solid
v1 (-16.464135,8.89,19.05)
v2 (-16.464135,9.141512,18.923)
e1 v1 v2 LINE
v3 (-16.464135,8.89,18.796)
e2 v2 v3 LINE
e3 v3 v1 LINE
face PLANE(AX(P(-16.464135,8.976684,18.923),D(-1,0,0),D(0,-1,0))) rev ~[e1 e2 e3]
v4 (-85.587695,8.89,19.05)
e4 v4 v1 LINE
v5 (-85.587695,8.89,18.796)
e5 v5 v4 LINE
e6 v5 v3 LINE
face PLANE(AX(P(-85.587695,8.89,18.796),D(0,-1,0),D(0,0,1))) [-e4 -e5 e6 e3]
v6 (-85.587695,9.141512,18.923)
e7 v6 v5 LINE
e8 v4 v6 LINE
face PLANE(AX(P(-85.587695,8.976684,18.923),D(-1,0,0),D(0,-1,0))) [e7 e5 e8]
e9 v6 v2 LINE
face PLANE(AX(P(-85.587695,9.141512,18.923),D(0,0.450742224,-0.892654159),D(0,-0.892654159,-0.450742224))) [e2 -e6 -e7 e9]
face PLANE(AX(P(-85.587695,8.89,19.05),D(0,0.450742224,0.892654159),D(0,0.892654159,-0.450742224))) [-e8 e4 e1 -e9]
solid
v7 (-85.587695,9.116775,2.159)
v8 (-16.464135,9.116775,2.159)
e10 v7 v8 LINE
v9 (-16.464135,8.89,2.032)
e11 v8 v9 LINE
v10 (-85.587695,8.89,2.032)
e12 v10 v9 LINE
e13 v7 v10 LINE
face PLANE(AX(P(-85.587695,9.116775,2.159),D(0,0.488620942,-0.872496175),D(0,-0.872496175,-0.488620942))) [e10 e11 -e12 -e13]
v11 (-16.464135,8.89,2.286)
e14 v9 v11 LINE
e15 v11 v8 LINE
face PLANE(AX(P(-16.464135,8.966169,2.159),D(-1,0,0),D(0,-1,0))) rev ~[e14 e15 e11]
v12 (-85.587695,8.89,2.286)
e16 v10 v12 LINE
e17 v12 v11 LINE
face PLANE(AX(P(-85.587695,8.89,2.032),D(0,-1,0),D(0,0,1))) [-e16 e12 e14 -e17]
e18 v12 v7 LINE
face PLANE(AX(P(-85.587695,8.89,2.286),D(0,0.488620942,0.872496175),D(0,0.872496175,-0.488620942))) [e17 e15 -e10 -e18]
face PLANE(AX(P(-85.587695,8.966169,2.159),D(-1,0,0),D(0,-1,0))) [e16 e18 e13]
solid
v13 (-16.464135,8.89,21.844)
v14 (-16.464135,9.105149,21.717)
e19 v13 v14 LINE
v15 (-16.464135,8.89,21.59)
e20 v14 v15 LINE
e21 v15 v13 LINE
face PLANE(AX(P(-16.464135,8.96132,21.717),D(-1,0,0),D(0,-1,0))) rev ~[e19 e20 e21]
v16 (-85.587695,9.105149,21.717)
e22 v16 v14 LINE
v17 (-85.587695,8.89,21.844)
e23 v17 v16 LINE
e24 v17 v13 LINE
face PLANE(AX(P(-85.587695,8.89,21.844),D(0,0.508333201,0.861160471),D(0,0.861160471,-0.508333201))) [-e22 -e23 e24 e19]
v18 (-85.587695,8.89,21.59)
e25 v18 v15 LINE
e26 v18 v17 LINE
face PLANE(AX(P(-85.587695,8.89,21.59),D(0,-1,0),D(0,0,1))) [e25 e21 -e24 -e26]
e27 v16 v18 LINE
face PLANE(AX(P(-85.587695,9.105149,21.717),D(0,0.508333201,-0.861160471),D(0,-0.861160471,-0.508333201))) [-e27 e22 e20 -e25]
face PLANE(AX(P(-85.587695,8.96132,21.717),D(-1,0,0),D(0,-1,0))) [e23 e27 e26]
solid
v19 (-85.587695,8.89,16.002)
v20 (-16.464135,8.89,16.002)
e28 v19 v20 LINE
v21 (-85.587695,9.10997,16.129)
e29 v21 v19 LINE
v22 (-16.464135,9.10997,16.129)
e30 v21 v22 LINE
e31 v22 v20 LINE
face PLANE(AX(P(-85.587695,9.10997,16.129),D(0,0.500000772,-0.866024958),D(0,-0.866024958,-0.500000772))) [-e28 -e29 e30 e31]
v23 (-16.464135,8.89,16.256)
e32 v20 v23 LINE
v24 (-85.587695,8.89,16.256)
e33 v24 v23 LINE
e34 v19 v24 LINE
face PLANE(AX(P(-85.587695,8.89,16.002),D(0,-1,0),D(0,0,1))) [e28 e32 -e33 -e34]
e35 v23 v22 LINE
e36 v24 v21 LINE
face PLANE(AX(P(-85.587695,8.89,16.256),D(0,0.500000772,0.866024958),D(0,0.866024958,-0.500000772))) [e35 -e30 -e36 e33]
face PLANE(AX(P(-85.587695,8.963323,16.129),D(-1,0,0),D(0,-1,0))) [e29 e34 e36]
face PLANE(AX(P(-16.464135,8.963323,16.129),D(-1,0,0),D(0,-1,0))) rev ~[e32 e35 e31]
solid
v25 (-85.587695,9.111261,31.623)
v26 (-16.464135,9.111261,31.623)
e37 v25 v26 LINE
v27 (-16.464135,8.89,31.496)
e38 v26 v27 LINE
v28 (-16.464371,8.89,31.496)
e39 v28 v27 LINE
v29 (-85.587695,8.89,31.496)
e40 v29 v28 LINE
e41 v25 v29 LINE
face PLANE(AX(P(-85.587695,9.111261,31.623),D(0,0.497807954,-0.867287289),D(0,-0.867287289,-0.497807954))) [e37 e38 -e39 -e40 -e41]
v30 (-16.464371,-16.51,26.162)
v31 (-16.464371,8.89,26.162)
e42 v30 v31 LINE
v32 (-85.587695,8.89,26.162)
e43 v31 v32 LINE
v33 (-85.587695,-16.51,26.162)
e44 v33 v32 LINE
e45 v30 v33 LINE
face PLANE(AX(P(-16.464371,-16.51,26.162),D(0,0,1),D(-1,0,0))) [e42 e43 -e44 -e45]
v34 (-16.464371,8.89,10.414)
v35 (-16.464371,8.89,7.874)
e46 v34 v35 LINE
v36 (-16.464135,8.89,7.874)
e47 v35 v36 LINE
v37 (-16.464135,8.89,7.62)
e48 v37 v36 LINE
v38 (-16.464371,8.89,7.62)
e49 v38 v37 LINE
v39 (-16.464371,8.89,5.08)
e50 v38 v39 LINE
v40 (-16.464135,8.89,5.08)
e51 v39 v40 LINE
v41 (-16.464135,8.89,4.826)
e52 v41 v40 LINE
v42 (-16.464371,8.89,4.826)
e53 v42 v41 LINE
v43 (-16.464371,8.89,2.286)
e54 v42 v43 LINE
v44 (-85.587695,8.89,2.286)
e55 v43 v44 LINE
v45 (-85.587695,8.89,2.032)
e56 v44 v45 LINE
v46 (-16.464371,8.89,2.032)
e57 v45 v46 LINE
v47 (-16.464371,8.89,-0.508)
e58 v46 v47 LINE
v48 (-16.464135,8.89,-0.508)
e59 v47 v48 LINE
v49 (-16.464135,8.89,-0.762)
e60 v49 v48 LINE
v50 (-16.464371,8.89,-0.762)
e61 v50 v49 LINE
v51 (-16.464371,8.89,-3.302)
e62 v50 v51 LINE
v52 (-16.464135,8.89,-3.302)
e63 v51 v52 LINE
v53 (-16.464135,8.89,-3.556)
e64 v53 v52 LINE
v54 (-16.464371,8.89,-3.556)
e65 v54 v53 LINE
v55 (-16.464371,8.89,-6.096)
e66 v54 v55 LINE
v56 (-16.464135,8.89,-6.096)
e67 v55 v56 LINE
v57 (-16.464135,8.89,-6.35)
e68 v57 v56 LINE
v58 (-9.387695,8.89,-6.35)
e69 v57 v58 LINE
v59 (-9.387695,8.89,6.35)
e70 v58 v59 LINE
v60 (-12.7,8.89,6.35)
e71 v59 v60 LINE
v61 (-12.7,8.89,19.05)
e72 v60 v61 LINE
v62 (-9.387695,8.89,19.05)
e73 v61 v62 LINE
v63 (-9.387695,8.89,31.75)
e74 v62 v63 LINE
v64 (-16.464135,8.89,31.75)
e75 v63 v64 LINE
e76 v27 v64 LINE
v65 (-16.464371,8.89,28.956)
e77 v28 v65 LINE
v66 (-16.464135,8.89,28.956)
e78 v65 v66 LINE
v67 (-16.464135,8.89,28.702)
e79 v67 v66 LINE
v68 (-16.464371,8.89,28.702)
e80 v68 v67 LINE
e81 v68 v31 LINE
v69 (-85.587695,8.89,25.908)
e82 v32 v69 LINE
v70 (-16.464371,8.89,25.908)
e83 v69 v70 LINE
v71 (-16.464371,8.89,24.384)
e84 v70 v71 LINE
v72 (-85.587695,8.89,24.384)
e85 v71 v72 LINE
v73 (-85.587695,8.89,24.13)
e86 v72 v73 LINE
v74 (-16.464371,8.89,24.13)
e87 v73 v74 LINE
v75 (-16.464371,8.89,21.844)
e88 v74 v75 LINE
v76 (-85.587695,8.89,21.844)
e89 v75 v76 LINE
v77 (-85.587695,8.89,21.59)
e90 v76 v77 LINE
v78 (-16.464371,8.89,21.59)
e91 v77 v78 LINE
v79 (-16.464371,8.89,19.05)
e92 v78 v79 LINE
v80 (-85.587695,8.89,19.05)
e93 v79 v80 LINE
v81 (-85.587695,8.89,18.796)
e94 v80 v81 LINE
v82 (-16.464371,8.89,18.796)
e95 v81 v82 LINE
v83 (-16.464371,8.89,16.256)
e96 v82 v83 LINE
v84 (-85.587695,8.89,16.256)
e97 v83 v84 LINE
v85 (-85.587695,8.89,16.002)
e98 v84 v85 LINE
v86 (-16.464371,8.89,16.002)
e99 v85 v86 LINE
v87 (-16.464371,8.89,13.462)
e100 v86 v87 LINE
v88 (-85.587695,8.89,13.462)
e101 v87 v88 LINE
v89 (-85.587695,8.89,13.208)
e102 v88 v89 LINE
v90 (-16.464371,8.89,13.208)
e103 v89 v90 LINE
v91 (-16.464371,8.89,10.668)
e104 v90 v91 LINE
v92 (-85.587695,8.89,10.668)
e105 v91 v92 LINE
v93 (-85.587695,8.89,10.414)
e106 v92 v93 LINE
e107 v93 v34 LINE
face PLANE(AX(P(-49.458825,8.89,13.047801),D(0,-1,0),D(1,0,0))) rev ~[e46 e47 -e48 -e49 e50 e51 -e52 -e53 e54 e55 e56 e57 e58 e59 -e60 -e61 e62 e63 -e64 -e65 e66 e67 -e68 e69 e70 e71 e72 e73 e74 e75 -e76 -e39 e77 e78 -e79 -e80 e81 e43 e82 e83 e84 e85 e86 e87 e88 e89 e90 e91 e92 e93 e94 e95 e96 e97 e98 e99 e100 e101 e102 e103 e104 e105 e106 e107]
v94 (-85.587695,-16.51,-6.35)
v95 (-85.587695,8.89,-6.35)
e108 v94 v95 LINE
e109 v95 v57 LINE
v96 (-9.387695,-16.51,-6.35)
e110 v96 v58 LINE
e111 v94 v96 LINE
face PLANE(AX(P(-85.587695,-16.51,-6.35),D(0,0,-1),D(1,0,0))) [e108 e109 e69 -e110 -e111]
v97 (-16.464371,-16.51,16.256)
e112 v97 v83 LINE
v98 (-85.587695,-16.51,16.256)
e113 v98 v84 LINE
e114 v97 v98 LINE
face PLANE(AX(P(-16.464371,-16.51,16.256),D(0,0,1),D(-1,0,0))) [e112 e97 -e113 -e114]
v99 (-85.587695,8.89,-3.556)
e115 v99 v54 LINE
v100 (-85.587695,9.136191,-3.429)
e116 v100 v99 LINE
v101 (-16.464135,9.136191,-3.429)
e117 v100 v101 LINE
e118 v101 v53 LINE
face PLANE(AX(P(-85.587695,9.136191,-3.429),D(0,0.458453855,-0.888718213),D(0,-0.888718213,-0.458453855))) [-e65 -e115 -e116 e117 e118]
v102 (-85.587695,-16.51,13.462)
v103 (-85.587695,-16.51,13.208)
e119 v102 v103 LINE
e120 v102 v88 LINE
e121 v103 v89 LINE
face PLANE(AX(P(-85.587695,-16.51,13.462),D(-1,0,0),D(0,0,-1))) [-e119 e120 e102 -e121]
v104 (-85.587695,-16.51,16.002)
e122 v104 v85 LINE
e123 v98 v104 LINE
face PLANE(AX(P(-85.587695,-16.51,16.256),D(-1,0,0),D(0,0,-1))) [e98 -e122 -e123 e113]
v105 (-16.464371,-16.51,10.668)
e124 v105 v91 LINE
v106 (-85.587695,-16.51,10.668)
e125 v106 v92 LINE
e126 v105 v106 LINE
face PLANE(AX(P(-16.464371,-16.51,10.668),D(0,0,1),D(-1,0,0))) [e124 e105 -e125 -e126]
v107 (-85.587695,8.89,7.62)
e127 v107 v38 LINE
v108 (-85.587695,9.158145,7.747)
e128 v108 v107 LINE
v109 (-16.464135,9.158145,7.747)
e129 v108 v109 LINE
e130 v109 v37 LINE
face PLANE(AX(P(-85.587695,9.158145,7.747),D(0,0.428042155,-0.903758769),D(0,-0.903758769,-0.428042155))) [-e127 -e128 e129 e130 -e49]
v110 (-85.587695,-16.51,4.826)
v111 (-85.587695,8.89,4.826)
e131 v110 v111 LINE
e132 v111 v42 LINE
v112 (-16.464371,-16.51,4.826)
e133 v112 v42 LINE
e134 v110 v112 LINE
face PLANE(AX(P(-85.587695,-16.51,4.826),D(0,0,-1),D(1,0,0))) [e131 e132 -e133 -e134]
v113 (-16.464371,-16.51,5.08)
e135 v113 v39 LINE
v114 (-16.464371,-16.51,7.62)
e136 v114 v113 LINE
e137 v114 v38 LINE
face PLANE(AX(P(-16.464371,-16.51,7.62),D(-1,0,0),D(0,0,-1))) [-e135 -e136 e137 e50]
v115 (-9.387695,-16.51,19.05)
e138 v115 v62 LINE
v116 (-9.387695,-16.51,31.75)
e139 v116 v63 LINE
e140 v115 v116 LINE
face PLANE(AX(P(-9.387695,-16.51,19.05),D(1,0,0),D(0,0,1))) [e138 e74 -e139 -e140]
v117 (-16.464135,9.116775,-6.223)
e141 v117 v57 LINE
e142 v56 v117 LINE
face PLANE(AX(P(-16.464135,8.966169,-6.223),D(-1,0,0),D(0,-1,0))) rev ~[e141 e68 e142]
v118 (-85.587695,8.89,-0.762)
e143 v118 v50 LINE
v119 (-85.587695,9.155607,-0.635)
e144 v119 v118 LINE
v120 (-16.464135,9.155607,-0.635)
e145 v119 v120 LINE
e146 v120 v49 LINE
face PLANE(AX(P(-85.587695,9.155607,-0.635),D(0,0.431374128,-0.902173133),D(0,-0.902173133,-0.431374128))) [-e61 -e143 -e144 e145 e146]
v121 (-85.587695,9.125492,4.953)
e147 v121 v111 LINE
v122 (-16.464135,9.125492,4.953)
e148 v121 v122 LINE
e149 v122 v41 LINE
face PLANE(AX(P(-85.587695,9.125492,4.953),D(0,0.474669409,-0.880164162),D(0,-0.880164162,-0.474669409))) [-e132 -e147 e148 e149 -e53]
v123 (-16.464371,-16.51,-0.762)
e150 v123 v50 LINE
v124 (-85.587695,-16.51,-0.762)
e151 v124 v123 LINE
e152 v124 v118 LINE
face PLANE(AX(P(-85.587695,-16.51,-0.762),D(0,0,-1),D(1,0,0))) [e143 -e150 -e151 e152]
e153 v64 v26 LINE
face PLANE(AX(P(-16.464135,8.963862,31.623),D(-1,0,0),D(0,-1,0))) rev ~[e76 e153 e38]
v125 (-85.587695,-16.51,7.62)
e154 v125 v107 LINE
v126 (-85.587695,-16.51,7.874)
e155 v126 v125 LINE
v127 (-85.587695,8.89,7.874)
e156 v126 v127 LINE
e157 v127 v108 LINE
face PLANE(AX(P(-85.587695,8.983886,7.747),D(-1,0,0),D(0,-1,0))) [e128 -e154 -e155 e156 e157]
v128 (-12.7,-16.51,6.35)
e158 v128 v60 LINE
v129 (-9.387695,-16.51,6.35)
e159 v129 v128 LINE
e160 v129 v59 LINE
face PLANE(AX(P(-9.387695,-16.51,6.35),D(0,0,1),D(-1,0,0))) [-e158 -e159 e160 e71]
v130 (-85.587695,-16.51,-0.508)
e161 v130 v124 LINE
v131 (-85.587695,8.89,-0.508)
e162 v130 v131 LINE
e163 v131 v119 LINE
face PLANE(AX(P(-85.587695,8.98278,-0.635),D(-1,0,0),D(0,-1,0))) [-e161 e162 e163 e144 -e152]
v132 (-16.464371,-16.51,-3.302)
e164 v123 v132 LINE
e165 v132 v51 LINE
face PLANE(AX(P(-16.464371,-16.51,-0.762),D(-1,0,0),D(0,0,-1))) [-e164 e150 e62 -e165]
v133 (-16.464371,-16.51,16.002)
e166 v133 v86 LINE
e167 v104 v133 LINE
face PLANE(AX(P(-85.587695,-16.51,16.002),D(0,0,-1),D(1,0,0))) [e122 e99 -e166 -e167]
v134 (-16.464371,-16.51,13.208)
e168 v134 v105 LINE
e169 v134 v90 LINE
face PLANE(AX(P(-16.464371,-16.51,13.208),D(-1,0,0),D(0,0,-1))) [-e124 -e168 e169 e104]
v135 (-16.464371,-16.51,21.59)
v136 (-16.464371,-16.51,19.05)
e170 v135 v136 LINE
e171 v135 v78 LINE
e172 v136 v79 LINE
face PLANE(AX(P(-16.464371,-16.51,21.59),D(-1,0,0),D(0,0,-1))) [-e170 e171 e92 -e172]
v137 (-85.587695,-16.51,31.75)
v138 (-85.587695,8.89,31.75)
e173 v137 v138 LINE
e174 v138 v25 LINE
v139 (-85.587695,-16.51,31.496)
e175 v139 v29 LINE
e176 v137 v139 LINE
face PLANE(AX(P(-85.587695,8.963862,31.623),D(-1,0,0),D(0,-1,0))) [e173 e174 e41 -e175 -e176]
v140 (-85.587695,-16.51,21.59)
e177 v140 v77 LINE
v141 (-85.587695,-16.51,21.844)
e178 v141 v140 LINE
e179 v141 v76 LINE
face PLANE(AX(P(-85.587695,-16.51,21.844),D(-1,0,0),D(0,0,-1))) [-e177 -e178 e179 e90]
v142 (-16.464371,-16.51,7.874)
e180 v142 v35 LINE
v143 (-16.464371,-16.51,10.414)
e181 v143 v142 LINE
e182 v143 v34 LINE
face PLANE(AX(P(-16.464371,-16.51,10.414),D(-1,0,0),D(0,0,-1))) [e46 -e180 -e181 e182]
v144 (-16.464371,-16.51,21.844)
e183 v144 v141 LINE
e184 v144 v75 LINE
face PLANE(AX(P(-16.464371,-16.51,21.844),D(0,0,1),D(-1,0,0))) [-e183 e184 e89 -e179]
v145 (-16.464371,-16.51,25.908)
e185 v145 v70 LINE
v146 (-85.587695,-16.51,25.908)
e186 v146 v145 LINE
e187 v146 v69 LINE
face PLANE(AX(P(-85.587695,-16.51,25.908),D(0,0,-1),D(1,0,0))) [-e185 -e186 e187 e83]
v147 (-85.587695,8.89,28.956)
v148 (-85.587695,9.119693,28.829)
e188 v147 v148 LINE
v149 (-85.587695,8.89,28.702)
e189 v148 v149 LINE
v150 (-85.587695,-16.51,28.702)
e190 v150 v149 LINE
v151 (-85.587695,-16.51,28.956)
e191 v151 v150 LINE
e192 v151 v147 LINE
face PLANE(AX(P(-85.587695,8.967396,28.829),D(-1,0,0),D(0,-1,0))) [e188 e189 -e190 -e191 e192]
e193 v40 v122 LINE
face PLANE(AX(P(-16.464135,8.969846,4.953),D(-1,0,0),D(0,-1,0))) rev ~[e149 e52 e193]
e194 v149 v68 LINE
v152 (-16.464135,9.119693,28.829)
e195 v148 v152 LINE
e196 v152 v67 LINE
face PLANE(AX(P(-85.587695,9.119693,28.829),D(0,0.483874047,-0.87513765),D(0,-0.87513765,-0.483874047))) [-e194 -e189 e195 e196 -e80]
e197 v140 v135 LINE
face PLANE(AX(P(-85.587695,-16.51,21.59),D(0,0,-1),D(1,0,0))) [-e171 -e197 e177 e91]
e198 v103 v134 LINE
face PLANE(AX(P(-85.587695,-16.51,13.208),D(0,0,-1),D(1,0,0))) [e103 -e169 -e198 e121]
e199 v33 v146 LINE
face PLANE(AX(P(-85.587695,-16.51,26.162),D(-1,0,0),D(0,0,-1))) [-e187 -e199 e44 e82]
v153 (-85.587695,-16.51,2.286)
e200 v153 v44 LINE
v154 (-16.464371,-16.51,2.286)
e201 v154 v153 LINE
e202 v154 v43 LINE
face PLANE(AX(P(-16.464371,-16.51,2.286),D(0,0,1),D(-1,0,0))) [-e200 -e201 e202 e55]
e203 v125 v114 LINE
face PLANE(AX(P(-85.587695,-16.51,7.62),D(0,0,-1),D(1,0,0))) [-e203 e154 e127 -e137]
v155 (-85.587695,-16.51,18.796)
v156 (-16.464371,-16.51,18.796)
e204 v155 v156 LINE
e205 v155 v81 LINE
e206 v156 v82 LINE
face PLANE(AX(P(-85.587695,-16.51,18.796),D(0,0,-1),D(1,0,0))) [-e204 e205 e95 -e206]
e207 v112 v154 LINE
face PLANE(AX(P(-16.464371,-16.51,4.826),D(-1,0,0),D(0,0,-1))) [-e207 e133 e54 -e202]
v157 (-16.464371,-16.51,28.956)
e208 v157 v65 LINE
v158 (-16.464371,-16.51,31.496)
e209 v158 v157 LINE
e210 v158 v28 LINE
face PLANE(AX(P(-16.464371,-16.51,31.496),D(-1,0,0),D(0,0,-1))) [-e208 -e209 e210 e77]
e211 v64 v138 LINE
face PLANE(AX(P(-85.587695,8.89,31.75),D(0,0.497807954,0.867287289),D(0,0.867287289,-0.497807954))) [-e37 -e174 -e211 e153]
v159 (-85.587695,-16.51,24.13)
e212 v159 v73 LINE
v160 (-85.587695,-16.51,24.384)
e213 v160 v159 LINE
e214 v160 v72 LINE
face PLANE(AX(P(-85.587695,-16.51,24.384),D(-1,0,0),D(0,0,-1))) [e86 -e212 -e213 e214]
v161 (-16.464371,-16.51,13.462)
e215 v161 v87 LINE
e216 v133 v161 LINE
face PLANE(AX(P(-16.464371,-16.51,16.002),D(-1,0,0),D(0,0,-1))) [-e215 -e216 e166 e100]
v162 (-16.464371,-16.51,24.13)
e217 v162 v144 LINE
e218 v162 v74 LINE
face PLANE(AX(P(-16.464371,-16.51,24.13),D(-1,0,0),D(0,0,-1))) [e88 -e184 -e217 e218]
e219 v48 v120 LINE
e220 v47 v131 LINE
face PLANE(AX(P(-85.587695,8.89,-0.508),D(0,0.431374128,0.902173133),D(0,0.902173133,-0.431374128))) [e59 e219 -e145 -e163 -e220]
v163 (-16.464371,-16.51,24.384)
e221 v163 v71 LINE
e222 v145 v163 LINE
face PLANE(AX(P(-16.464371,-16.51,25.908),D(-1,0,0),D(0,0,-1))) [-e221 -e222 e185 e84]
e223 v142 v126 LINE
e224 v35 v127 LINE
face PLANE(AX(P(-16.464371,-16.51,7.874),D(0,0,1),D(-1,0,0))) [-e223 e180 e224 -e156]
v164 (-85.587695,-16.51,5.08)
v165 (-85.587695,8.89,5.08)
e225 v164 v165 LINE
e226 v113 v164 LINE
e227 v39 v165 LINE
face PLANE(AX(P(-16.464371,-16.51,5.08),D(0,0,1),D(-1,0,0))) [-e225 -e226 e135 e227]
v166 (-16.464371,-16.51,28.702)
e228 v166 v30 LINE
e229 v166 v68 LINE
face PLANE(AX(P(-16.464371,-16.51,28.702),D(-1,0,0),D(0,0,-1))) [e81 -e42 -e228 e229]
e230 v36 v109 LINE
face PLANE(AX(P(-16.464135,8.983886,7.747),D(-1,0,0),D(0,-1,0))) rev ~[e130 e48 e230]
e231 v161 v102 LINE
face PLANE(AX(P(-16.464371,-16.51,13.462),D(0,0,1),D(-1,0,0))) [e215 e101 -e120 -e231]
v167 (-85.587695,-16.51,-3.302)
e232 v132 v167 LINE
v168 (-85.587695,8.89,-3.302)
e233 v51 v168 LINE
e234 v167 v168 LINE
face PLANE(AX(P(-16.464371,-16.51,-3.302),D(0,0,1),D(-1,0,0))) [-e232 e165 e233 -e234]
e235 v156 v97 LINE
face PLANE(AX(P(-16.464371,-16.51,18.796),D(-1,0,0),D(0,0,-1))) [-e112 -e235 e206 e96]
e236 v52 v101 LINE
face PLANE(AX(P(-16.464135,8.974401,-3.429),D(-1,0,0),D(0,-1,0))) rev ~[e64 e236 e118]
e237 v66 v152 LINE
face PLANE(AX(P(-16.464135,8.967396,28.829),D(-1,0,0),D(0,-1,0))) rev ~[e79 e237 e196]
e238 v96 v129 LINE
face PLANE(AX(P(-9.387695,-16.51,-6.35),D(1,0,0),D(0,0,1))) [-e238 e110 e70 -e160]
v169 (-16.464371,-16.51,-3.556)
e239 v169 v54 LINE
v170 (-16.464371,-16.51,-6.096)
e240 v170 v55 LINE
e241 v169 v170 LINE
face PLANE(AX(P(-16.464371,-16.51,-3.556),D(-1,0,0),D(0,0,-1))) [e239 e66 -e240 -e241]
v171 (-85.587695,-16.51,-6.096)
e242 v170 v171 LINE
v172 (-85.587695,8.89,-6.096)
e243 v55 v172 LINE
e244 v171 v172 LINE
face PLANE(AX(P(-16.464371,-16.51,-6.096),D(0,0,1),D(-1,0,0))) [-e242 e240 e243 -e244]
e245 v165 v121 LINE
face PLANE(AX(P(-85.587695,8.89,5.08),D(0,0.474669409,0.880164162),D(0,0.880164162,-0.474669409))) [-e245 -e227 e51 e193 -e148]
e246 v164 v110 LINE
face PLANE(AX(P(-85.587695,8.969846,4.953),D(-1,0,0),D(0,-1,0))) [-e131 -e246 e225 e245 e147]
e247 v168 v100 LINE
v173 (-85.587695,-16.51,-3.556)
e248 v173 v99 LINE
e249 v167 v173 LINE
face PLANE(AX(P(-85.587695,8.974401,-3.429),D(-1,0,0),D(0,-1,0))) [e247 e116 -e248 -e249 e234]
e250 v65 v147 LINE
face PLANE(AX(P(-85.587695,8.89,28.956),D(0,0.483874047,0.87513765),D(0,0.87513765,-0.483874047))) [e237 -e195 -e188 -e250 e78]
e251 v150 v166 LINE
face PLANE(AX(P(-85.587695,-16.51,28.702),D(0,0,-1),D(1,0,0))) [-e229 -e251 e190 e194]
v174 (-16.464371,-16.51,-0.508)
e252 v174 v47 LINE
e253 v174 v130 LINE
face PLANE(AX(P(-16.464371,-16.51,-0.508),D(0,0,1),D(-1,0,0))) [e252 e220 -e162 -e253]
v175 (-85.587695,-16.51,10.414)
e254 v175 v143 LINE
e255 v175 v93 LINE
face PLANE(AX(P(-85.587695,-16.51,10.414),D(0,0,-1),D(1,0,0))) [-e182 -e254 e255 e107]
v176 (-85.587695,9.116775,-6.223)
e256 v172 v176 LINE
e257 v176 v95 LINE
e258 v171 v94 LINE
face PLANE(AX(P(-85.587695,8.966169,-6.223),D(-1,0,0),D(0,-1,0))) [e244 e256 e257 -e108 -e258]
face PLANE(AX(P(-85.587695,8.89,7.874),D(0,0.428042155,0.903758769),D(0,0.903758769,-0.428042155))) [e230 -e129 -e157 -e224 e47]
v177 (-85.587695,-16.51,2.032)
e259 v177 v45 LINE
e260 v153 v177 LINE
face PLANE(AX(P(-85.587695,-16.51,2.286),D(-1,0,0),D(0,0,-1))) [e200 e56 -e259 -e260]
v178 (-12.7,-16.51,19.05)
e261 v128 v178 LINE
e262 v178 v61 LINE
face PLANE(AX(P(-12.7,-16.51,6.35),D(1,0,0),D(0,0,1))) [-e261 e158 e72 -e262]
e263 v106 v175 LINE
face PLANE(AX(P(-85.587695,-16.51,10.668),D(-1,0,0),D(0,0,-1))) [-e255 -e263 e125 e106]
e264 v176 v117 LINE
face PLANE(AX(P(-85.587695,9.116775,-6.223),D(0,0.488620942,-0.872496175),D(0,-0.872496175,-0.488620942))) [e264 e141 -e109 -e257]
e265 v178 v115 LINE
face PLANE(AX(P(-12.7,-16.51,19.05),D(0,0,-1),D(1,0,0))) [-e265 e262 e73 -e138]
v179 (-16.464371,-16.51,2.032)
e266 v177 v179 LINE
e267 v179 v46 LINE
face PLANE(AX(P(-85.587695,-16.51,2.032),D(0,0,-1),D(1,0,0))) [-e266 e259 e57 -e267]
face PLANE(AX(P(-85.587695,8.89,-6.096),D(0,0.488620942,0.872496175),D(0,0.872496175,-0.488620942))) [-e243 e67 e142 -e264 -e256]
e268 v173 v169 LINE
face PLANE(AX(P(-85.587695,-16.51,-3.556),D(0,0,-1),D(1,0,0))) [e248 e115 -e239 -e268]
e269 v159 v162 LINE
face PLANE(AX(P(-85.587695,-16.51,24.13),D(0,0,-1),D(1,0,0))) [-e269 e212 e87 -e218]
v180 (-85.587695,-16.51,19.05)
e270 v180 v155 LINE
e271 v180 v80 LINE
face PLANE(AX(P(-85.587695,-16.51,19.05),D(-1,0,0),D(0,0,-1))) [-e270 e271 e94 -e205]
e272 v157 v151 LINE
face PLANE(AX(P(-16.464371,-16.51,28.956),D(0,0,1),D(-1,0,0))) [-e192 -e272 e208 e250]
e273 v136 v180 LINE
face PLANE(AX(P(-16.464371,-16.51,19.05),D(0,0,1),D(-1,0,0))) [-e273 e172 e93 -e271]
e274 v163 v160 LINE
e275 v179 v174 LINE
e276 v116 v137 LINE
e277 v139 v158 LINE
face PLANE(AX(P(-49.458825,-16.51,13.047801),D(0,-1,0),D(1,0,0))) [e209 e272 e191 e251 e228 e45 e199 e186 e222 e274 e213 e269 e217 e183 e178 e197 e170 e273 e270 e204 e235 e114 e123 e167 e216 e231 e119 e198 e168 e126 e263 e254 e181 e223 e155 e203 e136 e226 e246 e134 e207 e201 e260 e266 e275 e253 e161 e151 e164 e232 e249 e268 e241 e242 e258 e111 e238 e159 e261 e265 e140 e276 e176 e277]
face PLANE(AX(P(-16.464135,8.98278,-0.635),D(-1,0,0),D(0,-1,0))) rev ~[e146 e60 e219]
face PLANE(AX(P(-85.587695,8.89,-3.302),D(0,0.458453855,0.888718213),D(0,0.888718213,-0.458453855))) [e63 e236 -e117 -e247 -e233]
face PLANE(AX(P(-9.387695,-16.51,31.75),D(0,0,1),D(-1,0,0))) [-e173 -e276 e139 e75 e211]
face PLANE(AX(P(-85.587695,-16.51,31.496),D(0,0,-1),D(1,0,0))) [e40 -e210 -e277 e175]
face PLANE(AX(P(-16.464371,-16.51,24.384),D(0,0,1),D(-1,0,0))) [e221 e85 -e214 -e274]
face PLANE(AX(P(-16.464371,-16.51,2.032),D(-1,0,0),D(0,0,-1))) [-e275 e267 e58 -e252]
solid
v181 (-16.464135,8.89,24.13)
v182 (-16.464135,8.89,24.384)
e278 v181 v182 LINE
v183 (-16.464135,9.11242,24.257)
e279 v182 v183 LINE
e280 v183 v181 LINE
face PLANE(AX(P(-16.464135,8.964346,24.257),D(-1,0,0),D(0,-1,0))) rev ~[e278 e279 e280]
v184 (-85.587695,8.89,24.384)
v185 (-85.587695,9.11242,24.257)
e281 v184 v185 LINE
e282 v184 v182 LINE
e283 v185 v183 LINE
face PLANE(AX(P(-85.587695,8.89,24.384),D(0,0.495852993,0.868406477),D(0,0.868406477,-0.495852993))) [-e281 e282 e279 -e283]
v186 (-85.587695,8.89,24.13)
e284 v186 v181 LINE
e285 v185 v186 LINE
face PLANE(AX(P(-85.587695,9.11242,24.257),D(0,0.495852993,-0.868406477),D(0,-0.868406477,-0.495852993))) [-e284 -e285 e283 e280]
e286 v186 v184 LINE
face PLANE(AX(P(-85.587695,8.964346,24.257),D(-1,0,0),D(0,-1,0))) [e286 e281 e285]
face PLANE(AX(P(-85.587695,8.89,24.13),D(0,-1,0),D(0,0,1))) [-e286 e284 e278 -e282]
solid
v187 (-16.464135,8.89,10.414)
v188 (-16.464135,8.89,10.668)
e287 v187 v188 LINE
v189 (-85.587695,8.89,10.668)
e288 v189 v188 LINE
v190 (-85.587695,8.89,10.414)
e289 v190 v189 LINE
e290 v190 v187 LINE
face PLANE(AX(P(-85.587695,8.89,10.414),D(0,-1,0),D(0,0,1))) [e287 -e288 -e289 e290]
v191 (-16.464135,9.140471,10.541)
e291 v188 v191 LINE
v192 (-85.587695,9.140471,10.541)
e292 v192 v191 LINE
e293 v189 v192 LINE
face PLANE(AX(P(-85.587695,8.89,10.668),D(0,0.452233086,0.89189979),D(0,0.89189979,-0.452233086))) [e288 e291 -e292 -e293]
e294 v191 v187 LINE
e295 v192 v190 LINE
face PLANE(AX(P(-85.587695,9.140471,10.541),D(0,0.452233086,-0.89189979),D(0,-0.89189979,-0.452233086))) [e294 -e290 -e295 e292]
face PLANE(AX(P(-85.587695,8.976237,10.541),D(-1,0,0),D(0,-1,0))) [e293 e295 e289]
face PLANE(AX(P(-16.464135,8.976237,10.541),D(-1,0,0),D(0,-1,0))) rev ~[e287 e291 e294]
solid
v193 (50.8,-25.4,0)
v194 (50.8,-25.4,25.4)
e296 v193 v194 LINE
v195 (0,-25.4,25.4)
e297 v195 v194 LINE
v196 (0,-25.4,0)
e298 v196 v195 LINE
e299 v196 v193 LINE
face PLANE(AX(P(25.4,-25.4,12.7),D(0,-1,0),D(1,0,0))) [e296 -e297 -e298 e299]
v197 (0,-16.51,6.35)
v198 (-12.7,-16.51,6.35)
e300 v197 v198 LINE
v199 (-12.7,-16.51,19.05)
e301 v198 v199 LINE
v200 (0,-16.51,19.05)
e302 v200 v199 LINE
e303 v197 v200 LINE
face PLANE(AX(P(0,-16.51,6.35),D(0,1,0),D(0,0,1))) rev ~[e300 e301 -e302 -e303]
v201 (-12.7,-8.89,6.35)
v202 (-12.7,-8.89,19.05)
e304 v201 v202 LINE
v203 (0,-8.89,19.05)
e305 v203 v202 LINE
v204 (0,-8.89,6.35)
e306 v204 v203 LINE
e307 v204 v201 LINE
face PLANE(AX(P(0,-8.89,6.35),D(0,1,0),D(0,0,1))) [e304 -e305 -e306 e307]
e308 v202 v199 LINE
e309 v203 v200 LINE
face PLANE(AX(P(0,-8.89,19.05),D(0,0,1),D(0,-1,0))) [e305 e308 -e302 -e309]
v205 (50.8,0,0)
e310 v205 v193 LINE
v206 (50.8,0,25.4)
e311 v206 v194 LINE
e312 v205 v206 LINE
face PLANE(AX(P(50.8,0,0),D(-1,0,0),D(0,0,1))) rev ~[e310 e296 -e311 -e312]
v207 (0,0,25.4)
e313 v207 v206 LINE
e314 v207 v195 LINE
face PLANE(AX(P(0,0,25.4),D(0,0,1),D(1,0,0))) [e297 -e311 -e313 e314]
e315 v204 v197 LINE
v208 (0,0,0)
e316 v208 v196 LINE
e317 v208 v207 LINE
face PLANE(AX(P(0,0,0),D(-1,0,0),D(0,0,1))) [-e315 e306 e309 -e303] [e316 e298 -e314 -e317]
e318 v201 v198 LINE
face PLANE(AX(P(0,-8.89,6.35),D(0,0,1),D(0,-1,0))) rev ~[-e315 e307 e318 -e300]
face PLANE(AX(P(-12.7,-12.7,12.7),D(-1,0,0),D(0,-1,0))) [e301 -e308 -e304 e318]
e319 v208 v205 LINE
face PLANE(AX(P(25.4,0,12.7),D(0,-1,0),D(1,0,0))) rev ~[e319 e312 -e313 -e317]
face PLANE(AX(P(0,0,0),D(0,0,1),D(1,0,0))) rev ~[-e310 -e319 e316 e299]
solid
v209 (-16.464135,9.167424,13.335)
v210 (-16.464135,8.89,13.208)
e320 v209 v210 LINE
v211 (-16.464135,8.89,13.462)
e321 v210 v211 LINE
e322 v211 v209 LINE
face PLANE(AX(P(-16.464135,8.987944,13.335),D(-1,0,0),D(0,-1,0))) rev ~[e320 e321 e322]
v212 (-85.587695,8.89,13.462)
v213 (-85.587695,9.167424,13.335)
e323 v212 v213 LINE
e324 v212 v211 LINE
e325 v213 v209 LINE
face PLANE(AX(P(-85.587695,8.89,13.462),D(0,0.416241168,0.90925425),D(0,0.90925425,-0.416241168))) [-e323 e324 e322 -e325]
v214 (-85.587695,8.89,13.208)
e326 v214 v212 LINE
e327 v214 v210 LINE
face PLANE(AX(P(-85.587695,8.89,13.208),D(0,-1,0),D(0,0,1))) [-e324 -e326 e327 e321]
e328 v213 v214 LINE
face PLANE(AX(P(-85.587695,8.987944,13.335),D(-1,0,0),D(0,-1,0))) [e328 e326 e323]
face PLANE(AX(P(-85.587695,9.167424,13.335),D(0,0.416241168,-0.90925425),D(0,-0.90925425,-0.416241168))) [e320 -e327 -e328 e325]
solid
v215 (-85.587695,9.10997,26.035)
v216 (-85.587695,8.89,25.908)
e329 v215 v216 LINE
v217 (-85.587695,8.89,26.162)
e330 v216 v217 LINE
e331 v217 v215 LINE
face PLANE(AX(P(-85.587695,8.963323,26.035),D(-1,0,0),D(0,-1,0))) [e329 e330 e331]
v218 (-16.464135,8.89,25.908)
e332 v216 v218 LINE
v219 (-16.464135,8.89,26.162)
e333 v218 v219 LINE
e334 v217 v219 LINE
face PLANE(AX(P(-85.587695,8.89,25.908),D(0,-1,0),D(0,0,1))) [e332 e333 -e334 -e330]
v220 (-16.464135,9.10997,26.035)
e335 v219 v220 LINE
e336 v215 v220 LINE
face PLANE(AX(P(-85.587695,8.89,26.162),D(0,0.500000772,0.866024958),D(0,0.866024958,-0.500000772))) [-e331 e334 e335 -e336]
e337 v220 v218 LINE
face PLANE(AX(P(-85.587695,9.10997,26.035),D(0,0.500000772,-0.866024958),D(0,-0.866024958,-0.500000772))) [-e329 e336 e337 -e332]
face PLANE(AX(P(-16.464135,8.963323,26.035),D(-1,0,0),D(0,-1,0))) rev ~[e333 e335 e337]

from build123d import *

# Parameters (mm, degrees)
F0_W      = 50.8
F0_H      = 25.4
F1_DEPTH  = 25.4
F2_W      = 7.62
F2_H      = 12.7
F3_DEPTH  = 12.7
F5_DEPTH  = 25.4
F7_DEPTH  = 69.12356
F22_DEPTH = 69.12356
F23_DEPTH = 69.12356
F24_DEPTH = 69.12356
F25_DEPTH = 69.12356
F26_DEPTH = 69.12356
F27_DEPTH = 69.12356
F28_DEPTH = 69.12356
F29_DEPTH = 69.12356
F30_DEPTH = 69.12356
F31_DEPTH = 69.12356
F32_DEPTH = 69.12356
F33_DEPTH = 69.12356
F34_DEPTH = 69.12356
F35_DEPTH = 69.12356


with BuildPart() as f1:
    # F0 (on Front) → F1 (new body)
    with BuildSketch(Plane.XZ):
        with Locations((25.4, 12.7)):
            Rectangle(F0_W, F0_H)
    extrude(amount=F1_DEPTH)

    # F2 (on face) → F3 (join)
    with BuildSketch(Plane(origin=(0, 0, 0), x_dir=(0, -1, 0), z_dir=(-1, 0, 0))):
        with Locations((12.7, 12.7)):
            Rectangle(F2_W, F2_H)
    extrude(amount=F3_DEPTH)


with BuildPart() as f5:
    # F4 (on face) → F5 (new body)
    with BuildSketch(Plane.XZ.offset(16.51)):
        Polygon((-85.587695, -6.35), (-9.387695, -6.35), (-9.387695, 6.35), (-12.7, 6.35), (-12.7, 19.05), (-9.387695, 19.05), (-9.387695, 31.75), (-16.464371, 31.75), (-85.587695, 31.75), (-85.587695, 31.496), (-16.464371, 31.496), (-16.464371, 28.956), (-85.587695, 28.956), (-85.587695, 28.702), (-16.464371, 28.702), (-16.464371, 26.162), (-85.587695, 26.162), (-85.587695, 25.908), (-16.464371, 25.908), (-16.464371, 24.384), (-85.587695, 24.384), (-85.587695, 24.13), (-16.464371, 24.13), (-16.464371, 21.844), (-85.587695, 21.844), (-85.587695, 21.59), (-16.464371, 21.59), (-16.464371, 19.05), (-85.587695, 19.05), (-85.587695, 18.796), (-16.464371, 18.796), (-16.464371, 16.256), (-85.587695, 16.256), (-85.587695, 16.002), (-16.464371, 16.002), (-16.464371, 13.462), (-85.587695, 13.462), (-85.587695, 13.208), (-16.464371, 13.208), (-16.464371, 10.668), (-85.587695, 10.668), (-85.587695, 10.414), (-16.464371, 10.414), (-16.464371, 7.874), (-85.587695, 7.874), (-85.587695, 7.62), (-16.464371, 7.62), (-16.464371, 5.08), (-85.587695, 5.08), (-85.587695, 4.826), (-16.464371, 4.826), (-16.464371, 2.286), (-85.587695, 2.286), (-85.587695, 2.032), (-16.464371, 2.032), (-16.464371, -0.508), (-85.587695, -0.508), (-85.587695, -0.762), (-16.464371, -0.762), (-16.464371, -3.302), (-85.587695, -3.302), (-85.587695, -3.556), (-16.464371, -3.556), (-16.464371, -6.096), (-85.587695, -6.096), align=None)
    extrude(amount=-F5_DEPTH)

    # F6 (on face) → F7 (join)
    with BuildSketch(Plane(origin=(-85.587695, 0, 0), x_dir=(0, -1, 0), z_dir=(-1, 0, 0))):
        Polygon((-8.89, 31.496), (-8.89, 31.75), (-9.111261, 31.623), align=None)
    extrude(amount=-F7_DEPTH)

    # F8 (on face) → F22 (join)
    with BuildSketch(Plane(origin=(-85.587695, 0, 0), x_dir=(0, -1, 0), z_dir=(-1, 0, 0))):
        Polygon((-8.89, 28.702), (-8.89, 28.956), (-9.119693, 28.829), align=None)
    extrude(amount=-F22_DEPTH)

    # F16 (on face) → F30 (join)
    with BuildSketch(Plane(origin=(-85.587695, 0, 0), x_dir=(0, -1, 0), z_dir=(-1, 0, 0))):
        Polygon((-8.89, 7.62), (-8.89, 7.874), (-9.158145, 7.747), align=None)
    extrude(amount=-F30_DEPTH)

    # F17 (on face) → F31 (join)
    with BuildSketch(Plane(origin=(-85.587695, 0, 0), x_dir=(0, -1, 0), z_dir=(-1, 0, 0))):
        Polygon((-8.89, 4.826), (-8.89, 5.08), (-9.125492, 4.953), align=None)
    extrude(amount=-F31_DEPTH)

    # F19 (on face) → F33 (join)
    with BuildSketch(Plane(origin=(-85.587695, 0, 0), x_dir=(0, -1, 0), z_dir=(-1, 0, 0))):
        Polygon((-8.89, -0.762), (-8.89, -0.508), (-9.155607, -0.635), align=None)
    extrude(amount=-F33_DEPTH)

    # F20 (on face) → F34 (join)
    with BuildSketch(Plane(origin=(-85.587695, 0, 0), x_dir=(0, -1, 0), z_dir=(-1, 0, 0))):
        Polygon((-8.89, -3.556), (-8.89, -3.302), (-9.136191, -3.429), align=None)
    extrude(amount=-F34_DEPTH)

    # F21 (on face) → F35 (join)
    with BuildSketch(Plane(origin=(-85.587695, 0, 0), x_dir=(0, -1, 0), z_dir=(-1, 0, 0))):
        Polygon((-8.89, -6.35), (-8.89, -6.096), (-9.116775, -6.223), align=None)
    extrude(amount=-F35_DEPTH)


with BuildPart() as f23:
    # F9 (on face) → F23 (new body)
    with BuildSketch(Plane(origin=(-85.587695, 0, 0), x_dir=(0, -1, 0), z_dir=(-1, 0, 0))):
        Polygon((-8.89, 25.908), (-8.89, 26.162), (-9.10997, 26.035), align=None)
    extrude(amount=-F23_DEPTH)


with BuildPart() as f24:
    # F10 (on face) → F24 (new body)
    with BuildSketch(Plane(origin=(-85.587695, 0, 0), x_dir=(0, -1, 0), z_dir=(-1, 0, 0))):
        Polygon((-8.89, 24.13), (-8.89, 24.384), (-9.11242, 24.257), align=None)
    extrude(amount=-F24_DEPTH)


with BuildPart() as f25:
    # F11 (on face) → F25 (new body)
    with BuildSketch(Plane(origin=(-85.587695, 0, 0), x_dir=(0, -1, 0), z_dir=(-1, 0, 0))):
        Polygon((-8.89, 21.59), (-8.89, 21.844), (-9.105149, 21.717), align=None)
    extrude(amount=-F25_DEPTH)


with BuildPart() as f26:
    # F12 (on face) → F26 (new body)
    with BuildSketch(Plane(origin=(-85.587695, 0, 0), x_dir=(0, -1, 0), z_dir=(-1, 0, 0))):
        Polygon((-8.89, 18.796), (-8.89, 19.05), (-9.141512, 18.923), align=None)
    extrude(amount=-F26_DEPTH)


with BuildPart() as f27:
    # F13 (on face) → F27 (new body)
    with BuildSketch(Plane(origin=(-85.587695, 0, 0), x_dir=(0, -1, 0), z_dir=(-1, 0, 0))):
        Polygon((-8.89, 16.002), (-8.89, 16.256), (-9.10997, 16.129), align=None)
    extrude(amount=-F27_DEPTH)


with BuildPart() as f28:
    # F14 (on face) → F28 (new body)
    with BuildSketch(Plane(origin=(-85.587695, 0, 0), x_dir=(0, -1, 0), z_dir=(-1, 0, 0))):
        Polygon((-8.89, 13.208), (-8.89, 13.462), (-9.167424, 13.335), align=None)
    extrude(amount=-F28_DEPTH)


with BuildPart() as f29:
    # F15 (on face) → F29 (new body)
    with BuildSketch(Plane(origin=(-85.587695, 0, 0), x_dir=(0, -1, 0), z_dir=(-1, 0, 0))):
        Polygon((-8.89, 10.414), (-8.89, 10.668), (-9.140471, 10.541), align=None)
    extrude(amount=-F29_DEPTH)


with BuildPart() as f32:
    # F18 (on face) → F32 (new body)
    with BuildSketch(Plane(origin=(-85.587695, 0, 0), x_dir=(0, -1, 0), z_dir=(-1, 0, 0))):
        Polygon((-8.89, 2.032), (-8.89, 2.286), (-9.116775, 2.159), align=None)
    extrude(amount=-F32_DEPTH)


solid = Compound([f1.part, f5.part, f23.part, f24.part, f25.part, f26.part, f27.part, f28.part, f29.part, f32.part])
